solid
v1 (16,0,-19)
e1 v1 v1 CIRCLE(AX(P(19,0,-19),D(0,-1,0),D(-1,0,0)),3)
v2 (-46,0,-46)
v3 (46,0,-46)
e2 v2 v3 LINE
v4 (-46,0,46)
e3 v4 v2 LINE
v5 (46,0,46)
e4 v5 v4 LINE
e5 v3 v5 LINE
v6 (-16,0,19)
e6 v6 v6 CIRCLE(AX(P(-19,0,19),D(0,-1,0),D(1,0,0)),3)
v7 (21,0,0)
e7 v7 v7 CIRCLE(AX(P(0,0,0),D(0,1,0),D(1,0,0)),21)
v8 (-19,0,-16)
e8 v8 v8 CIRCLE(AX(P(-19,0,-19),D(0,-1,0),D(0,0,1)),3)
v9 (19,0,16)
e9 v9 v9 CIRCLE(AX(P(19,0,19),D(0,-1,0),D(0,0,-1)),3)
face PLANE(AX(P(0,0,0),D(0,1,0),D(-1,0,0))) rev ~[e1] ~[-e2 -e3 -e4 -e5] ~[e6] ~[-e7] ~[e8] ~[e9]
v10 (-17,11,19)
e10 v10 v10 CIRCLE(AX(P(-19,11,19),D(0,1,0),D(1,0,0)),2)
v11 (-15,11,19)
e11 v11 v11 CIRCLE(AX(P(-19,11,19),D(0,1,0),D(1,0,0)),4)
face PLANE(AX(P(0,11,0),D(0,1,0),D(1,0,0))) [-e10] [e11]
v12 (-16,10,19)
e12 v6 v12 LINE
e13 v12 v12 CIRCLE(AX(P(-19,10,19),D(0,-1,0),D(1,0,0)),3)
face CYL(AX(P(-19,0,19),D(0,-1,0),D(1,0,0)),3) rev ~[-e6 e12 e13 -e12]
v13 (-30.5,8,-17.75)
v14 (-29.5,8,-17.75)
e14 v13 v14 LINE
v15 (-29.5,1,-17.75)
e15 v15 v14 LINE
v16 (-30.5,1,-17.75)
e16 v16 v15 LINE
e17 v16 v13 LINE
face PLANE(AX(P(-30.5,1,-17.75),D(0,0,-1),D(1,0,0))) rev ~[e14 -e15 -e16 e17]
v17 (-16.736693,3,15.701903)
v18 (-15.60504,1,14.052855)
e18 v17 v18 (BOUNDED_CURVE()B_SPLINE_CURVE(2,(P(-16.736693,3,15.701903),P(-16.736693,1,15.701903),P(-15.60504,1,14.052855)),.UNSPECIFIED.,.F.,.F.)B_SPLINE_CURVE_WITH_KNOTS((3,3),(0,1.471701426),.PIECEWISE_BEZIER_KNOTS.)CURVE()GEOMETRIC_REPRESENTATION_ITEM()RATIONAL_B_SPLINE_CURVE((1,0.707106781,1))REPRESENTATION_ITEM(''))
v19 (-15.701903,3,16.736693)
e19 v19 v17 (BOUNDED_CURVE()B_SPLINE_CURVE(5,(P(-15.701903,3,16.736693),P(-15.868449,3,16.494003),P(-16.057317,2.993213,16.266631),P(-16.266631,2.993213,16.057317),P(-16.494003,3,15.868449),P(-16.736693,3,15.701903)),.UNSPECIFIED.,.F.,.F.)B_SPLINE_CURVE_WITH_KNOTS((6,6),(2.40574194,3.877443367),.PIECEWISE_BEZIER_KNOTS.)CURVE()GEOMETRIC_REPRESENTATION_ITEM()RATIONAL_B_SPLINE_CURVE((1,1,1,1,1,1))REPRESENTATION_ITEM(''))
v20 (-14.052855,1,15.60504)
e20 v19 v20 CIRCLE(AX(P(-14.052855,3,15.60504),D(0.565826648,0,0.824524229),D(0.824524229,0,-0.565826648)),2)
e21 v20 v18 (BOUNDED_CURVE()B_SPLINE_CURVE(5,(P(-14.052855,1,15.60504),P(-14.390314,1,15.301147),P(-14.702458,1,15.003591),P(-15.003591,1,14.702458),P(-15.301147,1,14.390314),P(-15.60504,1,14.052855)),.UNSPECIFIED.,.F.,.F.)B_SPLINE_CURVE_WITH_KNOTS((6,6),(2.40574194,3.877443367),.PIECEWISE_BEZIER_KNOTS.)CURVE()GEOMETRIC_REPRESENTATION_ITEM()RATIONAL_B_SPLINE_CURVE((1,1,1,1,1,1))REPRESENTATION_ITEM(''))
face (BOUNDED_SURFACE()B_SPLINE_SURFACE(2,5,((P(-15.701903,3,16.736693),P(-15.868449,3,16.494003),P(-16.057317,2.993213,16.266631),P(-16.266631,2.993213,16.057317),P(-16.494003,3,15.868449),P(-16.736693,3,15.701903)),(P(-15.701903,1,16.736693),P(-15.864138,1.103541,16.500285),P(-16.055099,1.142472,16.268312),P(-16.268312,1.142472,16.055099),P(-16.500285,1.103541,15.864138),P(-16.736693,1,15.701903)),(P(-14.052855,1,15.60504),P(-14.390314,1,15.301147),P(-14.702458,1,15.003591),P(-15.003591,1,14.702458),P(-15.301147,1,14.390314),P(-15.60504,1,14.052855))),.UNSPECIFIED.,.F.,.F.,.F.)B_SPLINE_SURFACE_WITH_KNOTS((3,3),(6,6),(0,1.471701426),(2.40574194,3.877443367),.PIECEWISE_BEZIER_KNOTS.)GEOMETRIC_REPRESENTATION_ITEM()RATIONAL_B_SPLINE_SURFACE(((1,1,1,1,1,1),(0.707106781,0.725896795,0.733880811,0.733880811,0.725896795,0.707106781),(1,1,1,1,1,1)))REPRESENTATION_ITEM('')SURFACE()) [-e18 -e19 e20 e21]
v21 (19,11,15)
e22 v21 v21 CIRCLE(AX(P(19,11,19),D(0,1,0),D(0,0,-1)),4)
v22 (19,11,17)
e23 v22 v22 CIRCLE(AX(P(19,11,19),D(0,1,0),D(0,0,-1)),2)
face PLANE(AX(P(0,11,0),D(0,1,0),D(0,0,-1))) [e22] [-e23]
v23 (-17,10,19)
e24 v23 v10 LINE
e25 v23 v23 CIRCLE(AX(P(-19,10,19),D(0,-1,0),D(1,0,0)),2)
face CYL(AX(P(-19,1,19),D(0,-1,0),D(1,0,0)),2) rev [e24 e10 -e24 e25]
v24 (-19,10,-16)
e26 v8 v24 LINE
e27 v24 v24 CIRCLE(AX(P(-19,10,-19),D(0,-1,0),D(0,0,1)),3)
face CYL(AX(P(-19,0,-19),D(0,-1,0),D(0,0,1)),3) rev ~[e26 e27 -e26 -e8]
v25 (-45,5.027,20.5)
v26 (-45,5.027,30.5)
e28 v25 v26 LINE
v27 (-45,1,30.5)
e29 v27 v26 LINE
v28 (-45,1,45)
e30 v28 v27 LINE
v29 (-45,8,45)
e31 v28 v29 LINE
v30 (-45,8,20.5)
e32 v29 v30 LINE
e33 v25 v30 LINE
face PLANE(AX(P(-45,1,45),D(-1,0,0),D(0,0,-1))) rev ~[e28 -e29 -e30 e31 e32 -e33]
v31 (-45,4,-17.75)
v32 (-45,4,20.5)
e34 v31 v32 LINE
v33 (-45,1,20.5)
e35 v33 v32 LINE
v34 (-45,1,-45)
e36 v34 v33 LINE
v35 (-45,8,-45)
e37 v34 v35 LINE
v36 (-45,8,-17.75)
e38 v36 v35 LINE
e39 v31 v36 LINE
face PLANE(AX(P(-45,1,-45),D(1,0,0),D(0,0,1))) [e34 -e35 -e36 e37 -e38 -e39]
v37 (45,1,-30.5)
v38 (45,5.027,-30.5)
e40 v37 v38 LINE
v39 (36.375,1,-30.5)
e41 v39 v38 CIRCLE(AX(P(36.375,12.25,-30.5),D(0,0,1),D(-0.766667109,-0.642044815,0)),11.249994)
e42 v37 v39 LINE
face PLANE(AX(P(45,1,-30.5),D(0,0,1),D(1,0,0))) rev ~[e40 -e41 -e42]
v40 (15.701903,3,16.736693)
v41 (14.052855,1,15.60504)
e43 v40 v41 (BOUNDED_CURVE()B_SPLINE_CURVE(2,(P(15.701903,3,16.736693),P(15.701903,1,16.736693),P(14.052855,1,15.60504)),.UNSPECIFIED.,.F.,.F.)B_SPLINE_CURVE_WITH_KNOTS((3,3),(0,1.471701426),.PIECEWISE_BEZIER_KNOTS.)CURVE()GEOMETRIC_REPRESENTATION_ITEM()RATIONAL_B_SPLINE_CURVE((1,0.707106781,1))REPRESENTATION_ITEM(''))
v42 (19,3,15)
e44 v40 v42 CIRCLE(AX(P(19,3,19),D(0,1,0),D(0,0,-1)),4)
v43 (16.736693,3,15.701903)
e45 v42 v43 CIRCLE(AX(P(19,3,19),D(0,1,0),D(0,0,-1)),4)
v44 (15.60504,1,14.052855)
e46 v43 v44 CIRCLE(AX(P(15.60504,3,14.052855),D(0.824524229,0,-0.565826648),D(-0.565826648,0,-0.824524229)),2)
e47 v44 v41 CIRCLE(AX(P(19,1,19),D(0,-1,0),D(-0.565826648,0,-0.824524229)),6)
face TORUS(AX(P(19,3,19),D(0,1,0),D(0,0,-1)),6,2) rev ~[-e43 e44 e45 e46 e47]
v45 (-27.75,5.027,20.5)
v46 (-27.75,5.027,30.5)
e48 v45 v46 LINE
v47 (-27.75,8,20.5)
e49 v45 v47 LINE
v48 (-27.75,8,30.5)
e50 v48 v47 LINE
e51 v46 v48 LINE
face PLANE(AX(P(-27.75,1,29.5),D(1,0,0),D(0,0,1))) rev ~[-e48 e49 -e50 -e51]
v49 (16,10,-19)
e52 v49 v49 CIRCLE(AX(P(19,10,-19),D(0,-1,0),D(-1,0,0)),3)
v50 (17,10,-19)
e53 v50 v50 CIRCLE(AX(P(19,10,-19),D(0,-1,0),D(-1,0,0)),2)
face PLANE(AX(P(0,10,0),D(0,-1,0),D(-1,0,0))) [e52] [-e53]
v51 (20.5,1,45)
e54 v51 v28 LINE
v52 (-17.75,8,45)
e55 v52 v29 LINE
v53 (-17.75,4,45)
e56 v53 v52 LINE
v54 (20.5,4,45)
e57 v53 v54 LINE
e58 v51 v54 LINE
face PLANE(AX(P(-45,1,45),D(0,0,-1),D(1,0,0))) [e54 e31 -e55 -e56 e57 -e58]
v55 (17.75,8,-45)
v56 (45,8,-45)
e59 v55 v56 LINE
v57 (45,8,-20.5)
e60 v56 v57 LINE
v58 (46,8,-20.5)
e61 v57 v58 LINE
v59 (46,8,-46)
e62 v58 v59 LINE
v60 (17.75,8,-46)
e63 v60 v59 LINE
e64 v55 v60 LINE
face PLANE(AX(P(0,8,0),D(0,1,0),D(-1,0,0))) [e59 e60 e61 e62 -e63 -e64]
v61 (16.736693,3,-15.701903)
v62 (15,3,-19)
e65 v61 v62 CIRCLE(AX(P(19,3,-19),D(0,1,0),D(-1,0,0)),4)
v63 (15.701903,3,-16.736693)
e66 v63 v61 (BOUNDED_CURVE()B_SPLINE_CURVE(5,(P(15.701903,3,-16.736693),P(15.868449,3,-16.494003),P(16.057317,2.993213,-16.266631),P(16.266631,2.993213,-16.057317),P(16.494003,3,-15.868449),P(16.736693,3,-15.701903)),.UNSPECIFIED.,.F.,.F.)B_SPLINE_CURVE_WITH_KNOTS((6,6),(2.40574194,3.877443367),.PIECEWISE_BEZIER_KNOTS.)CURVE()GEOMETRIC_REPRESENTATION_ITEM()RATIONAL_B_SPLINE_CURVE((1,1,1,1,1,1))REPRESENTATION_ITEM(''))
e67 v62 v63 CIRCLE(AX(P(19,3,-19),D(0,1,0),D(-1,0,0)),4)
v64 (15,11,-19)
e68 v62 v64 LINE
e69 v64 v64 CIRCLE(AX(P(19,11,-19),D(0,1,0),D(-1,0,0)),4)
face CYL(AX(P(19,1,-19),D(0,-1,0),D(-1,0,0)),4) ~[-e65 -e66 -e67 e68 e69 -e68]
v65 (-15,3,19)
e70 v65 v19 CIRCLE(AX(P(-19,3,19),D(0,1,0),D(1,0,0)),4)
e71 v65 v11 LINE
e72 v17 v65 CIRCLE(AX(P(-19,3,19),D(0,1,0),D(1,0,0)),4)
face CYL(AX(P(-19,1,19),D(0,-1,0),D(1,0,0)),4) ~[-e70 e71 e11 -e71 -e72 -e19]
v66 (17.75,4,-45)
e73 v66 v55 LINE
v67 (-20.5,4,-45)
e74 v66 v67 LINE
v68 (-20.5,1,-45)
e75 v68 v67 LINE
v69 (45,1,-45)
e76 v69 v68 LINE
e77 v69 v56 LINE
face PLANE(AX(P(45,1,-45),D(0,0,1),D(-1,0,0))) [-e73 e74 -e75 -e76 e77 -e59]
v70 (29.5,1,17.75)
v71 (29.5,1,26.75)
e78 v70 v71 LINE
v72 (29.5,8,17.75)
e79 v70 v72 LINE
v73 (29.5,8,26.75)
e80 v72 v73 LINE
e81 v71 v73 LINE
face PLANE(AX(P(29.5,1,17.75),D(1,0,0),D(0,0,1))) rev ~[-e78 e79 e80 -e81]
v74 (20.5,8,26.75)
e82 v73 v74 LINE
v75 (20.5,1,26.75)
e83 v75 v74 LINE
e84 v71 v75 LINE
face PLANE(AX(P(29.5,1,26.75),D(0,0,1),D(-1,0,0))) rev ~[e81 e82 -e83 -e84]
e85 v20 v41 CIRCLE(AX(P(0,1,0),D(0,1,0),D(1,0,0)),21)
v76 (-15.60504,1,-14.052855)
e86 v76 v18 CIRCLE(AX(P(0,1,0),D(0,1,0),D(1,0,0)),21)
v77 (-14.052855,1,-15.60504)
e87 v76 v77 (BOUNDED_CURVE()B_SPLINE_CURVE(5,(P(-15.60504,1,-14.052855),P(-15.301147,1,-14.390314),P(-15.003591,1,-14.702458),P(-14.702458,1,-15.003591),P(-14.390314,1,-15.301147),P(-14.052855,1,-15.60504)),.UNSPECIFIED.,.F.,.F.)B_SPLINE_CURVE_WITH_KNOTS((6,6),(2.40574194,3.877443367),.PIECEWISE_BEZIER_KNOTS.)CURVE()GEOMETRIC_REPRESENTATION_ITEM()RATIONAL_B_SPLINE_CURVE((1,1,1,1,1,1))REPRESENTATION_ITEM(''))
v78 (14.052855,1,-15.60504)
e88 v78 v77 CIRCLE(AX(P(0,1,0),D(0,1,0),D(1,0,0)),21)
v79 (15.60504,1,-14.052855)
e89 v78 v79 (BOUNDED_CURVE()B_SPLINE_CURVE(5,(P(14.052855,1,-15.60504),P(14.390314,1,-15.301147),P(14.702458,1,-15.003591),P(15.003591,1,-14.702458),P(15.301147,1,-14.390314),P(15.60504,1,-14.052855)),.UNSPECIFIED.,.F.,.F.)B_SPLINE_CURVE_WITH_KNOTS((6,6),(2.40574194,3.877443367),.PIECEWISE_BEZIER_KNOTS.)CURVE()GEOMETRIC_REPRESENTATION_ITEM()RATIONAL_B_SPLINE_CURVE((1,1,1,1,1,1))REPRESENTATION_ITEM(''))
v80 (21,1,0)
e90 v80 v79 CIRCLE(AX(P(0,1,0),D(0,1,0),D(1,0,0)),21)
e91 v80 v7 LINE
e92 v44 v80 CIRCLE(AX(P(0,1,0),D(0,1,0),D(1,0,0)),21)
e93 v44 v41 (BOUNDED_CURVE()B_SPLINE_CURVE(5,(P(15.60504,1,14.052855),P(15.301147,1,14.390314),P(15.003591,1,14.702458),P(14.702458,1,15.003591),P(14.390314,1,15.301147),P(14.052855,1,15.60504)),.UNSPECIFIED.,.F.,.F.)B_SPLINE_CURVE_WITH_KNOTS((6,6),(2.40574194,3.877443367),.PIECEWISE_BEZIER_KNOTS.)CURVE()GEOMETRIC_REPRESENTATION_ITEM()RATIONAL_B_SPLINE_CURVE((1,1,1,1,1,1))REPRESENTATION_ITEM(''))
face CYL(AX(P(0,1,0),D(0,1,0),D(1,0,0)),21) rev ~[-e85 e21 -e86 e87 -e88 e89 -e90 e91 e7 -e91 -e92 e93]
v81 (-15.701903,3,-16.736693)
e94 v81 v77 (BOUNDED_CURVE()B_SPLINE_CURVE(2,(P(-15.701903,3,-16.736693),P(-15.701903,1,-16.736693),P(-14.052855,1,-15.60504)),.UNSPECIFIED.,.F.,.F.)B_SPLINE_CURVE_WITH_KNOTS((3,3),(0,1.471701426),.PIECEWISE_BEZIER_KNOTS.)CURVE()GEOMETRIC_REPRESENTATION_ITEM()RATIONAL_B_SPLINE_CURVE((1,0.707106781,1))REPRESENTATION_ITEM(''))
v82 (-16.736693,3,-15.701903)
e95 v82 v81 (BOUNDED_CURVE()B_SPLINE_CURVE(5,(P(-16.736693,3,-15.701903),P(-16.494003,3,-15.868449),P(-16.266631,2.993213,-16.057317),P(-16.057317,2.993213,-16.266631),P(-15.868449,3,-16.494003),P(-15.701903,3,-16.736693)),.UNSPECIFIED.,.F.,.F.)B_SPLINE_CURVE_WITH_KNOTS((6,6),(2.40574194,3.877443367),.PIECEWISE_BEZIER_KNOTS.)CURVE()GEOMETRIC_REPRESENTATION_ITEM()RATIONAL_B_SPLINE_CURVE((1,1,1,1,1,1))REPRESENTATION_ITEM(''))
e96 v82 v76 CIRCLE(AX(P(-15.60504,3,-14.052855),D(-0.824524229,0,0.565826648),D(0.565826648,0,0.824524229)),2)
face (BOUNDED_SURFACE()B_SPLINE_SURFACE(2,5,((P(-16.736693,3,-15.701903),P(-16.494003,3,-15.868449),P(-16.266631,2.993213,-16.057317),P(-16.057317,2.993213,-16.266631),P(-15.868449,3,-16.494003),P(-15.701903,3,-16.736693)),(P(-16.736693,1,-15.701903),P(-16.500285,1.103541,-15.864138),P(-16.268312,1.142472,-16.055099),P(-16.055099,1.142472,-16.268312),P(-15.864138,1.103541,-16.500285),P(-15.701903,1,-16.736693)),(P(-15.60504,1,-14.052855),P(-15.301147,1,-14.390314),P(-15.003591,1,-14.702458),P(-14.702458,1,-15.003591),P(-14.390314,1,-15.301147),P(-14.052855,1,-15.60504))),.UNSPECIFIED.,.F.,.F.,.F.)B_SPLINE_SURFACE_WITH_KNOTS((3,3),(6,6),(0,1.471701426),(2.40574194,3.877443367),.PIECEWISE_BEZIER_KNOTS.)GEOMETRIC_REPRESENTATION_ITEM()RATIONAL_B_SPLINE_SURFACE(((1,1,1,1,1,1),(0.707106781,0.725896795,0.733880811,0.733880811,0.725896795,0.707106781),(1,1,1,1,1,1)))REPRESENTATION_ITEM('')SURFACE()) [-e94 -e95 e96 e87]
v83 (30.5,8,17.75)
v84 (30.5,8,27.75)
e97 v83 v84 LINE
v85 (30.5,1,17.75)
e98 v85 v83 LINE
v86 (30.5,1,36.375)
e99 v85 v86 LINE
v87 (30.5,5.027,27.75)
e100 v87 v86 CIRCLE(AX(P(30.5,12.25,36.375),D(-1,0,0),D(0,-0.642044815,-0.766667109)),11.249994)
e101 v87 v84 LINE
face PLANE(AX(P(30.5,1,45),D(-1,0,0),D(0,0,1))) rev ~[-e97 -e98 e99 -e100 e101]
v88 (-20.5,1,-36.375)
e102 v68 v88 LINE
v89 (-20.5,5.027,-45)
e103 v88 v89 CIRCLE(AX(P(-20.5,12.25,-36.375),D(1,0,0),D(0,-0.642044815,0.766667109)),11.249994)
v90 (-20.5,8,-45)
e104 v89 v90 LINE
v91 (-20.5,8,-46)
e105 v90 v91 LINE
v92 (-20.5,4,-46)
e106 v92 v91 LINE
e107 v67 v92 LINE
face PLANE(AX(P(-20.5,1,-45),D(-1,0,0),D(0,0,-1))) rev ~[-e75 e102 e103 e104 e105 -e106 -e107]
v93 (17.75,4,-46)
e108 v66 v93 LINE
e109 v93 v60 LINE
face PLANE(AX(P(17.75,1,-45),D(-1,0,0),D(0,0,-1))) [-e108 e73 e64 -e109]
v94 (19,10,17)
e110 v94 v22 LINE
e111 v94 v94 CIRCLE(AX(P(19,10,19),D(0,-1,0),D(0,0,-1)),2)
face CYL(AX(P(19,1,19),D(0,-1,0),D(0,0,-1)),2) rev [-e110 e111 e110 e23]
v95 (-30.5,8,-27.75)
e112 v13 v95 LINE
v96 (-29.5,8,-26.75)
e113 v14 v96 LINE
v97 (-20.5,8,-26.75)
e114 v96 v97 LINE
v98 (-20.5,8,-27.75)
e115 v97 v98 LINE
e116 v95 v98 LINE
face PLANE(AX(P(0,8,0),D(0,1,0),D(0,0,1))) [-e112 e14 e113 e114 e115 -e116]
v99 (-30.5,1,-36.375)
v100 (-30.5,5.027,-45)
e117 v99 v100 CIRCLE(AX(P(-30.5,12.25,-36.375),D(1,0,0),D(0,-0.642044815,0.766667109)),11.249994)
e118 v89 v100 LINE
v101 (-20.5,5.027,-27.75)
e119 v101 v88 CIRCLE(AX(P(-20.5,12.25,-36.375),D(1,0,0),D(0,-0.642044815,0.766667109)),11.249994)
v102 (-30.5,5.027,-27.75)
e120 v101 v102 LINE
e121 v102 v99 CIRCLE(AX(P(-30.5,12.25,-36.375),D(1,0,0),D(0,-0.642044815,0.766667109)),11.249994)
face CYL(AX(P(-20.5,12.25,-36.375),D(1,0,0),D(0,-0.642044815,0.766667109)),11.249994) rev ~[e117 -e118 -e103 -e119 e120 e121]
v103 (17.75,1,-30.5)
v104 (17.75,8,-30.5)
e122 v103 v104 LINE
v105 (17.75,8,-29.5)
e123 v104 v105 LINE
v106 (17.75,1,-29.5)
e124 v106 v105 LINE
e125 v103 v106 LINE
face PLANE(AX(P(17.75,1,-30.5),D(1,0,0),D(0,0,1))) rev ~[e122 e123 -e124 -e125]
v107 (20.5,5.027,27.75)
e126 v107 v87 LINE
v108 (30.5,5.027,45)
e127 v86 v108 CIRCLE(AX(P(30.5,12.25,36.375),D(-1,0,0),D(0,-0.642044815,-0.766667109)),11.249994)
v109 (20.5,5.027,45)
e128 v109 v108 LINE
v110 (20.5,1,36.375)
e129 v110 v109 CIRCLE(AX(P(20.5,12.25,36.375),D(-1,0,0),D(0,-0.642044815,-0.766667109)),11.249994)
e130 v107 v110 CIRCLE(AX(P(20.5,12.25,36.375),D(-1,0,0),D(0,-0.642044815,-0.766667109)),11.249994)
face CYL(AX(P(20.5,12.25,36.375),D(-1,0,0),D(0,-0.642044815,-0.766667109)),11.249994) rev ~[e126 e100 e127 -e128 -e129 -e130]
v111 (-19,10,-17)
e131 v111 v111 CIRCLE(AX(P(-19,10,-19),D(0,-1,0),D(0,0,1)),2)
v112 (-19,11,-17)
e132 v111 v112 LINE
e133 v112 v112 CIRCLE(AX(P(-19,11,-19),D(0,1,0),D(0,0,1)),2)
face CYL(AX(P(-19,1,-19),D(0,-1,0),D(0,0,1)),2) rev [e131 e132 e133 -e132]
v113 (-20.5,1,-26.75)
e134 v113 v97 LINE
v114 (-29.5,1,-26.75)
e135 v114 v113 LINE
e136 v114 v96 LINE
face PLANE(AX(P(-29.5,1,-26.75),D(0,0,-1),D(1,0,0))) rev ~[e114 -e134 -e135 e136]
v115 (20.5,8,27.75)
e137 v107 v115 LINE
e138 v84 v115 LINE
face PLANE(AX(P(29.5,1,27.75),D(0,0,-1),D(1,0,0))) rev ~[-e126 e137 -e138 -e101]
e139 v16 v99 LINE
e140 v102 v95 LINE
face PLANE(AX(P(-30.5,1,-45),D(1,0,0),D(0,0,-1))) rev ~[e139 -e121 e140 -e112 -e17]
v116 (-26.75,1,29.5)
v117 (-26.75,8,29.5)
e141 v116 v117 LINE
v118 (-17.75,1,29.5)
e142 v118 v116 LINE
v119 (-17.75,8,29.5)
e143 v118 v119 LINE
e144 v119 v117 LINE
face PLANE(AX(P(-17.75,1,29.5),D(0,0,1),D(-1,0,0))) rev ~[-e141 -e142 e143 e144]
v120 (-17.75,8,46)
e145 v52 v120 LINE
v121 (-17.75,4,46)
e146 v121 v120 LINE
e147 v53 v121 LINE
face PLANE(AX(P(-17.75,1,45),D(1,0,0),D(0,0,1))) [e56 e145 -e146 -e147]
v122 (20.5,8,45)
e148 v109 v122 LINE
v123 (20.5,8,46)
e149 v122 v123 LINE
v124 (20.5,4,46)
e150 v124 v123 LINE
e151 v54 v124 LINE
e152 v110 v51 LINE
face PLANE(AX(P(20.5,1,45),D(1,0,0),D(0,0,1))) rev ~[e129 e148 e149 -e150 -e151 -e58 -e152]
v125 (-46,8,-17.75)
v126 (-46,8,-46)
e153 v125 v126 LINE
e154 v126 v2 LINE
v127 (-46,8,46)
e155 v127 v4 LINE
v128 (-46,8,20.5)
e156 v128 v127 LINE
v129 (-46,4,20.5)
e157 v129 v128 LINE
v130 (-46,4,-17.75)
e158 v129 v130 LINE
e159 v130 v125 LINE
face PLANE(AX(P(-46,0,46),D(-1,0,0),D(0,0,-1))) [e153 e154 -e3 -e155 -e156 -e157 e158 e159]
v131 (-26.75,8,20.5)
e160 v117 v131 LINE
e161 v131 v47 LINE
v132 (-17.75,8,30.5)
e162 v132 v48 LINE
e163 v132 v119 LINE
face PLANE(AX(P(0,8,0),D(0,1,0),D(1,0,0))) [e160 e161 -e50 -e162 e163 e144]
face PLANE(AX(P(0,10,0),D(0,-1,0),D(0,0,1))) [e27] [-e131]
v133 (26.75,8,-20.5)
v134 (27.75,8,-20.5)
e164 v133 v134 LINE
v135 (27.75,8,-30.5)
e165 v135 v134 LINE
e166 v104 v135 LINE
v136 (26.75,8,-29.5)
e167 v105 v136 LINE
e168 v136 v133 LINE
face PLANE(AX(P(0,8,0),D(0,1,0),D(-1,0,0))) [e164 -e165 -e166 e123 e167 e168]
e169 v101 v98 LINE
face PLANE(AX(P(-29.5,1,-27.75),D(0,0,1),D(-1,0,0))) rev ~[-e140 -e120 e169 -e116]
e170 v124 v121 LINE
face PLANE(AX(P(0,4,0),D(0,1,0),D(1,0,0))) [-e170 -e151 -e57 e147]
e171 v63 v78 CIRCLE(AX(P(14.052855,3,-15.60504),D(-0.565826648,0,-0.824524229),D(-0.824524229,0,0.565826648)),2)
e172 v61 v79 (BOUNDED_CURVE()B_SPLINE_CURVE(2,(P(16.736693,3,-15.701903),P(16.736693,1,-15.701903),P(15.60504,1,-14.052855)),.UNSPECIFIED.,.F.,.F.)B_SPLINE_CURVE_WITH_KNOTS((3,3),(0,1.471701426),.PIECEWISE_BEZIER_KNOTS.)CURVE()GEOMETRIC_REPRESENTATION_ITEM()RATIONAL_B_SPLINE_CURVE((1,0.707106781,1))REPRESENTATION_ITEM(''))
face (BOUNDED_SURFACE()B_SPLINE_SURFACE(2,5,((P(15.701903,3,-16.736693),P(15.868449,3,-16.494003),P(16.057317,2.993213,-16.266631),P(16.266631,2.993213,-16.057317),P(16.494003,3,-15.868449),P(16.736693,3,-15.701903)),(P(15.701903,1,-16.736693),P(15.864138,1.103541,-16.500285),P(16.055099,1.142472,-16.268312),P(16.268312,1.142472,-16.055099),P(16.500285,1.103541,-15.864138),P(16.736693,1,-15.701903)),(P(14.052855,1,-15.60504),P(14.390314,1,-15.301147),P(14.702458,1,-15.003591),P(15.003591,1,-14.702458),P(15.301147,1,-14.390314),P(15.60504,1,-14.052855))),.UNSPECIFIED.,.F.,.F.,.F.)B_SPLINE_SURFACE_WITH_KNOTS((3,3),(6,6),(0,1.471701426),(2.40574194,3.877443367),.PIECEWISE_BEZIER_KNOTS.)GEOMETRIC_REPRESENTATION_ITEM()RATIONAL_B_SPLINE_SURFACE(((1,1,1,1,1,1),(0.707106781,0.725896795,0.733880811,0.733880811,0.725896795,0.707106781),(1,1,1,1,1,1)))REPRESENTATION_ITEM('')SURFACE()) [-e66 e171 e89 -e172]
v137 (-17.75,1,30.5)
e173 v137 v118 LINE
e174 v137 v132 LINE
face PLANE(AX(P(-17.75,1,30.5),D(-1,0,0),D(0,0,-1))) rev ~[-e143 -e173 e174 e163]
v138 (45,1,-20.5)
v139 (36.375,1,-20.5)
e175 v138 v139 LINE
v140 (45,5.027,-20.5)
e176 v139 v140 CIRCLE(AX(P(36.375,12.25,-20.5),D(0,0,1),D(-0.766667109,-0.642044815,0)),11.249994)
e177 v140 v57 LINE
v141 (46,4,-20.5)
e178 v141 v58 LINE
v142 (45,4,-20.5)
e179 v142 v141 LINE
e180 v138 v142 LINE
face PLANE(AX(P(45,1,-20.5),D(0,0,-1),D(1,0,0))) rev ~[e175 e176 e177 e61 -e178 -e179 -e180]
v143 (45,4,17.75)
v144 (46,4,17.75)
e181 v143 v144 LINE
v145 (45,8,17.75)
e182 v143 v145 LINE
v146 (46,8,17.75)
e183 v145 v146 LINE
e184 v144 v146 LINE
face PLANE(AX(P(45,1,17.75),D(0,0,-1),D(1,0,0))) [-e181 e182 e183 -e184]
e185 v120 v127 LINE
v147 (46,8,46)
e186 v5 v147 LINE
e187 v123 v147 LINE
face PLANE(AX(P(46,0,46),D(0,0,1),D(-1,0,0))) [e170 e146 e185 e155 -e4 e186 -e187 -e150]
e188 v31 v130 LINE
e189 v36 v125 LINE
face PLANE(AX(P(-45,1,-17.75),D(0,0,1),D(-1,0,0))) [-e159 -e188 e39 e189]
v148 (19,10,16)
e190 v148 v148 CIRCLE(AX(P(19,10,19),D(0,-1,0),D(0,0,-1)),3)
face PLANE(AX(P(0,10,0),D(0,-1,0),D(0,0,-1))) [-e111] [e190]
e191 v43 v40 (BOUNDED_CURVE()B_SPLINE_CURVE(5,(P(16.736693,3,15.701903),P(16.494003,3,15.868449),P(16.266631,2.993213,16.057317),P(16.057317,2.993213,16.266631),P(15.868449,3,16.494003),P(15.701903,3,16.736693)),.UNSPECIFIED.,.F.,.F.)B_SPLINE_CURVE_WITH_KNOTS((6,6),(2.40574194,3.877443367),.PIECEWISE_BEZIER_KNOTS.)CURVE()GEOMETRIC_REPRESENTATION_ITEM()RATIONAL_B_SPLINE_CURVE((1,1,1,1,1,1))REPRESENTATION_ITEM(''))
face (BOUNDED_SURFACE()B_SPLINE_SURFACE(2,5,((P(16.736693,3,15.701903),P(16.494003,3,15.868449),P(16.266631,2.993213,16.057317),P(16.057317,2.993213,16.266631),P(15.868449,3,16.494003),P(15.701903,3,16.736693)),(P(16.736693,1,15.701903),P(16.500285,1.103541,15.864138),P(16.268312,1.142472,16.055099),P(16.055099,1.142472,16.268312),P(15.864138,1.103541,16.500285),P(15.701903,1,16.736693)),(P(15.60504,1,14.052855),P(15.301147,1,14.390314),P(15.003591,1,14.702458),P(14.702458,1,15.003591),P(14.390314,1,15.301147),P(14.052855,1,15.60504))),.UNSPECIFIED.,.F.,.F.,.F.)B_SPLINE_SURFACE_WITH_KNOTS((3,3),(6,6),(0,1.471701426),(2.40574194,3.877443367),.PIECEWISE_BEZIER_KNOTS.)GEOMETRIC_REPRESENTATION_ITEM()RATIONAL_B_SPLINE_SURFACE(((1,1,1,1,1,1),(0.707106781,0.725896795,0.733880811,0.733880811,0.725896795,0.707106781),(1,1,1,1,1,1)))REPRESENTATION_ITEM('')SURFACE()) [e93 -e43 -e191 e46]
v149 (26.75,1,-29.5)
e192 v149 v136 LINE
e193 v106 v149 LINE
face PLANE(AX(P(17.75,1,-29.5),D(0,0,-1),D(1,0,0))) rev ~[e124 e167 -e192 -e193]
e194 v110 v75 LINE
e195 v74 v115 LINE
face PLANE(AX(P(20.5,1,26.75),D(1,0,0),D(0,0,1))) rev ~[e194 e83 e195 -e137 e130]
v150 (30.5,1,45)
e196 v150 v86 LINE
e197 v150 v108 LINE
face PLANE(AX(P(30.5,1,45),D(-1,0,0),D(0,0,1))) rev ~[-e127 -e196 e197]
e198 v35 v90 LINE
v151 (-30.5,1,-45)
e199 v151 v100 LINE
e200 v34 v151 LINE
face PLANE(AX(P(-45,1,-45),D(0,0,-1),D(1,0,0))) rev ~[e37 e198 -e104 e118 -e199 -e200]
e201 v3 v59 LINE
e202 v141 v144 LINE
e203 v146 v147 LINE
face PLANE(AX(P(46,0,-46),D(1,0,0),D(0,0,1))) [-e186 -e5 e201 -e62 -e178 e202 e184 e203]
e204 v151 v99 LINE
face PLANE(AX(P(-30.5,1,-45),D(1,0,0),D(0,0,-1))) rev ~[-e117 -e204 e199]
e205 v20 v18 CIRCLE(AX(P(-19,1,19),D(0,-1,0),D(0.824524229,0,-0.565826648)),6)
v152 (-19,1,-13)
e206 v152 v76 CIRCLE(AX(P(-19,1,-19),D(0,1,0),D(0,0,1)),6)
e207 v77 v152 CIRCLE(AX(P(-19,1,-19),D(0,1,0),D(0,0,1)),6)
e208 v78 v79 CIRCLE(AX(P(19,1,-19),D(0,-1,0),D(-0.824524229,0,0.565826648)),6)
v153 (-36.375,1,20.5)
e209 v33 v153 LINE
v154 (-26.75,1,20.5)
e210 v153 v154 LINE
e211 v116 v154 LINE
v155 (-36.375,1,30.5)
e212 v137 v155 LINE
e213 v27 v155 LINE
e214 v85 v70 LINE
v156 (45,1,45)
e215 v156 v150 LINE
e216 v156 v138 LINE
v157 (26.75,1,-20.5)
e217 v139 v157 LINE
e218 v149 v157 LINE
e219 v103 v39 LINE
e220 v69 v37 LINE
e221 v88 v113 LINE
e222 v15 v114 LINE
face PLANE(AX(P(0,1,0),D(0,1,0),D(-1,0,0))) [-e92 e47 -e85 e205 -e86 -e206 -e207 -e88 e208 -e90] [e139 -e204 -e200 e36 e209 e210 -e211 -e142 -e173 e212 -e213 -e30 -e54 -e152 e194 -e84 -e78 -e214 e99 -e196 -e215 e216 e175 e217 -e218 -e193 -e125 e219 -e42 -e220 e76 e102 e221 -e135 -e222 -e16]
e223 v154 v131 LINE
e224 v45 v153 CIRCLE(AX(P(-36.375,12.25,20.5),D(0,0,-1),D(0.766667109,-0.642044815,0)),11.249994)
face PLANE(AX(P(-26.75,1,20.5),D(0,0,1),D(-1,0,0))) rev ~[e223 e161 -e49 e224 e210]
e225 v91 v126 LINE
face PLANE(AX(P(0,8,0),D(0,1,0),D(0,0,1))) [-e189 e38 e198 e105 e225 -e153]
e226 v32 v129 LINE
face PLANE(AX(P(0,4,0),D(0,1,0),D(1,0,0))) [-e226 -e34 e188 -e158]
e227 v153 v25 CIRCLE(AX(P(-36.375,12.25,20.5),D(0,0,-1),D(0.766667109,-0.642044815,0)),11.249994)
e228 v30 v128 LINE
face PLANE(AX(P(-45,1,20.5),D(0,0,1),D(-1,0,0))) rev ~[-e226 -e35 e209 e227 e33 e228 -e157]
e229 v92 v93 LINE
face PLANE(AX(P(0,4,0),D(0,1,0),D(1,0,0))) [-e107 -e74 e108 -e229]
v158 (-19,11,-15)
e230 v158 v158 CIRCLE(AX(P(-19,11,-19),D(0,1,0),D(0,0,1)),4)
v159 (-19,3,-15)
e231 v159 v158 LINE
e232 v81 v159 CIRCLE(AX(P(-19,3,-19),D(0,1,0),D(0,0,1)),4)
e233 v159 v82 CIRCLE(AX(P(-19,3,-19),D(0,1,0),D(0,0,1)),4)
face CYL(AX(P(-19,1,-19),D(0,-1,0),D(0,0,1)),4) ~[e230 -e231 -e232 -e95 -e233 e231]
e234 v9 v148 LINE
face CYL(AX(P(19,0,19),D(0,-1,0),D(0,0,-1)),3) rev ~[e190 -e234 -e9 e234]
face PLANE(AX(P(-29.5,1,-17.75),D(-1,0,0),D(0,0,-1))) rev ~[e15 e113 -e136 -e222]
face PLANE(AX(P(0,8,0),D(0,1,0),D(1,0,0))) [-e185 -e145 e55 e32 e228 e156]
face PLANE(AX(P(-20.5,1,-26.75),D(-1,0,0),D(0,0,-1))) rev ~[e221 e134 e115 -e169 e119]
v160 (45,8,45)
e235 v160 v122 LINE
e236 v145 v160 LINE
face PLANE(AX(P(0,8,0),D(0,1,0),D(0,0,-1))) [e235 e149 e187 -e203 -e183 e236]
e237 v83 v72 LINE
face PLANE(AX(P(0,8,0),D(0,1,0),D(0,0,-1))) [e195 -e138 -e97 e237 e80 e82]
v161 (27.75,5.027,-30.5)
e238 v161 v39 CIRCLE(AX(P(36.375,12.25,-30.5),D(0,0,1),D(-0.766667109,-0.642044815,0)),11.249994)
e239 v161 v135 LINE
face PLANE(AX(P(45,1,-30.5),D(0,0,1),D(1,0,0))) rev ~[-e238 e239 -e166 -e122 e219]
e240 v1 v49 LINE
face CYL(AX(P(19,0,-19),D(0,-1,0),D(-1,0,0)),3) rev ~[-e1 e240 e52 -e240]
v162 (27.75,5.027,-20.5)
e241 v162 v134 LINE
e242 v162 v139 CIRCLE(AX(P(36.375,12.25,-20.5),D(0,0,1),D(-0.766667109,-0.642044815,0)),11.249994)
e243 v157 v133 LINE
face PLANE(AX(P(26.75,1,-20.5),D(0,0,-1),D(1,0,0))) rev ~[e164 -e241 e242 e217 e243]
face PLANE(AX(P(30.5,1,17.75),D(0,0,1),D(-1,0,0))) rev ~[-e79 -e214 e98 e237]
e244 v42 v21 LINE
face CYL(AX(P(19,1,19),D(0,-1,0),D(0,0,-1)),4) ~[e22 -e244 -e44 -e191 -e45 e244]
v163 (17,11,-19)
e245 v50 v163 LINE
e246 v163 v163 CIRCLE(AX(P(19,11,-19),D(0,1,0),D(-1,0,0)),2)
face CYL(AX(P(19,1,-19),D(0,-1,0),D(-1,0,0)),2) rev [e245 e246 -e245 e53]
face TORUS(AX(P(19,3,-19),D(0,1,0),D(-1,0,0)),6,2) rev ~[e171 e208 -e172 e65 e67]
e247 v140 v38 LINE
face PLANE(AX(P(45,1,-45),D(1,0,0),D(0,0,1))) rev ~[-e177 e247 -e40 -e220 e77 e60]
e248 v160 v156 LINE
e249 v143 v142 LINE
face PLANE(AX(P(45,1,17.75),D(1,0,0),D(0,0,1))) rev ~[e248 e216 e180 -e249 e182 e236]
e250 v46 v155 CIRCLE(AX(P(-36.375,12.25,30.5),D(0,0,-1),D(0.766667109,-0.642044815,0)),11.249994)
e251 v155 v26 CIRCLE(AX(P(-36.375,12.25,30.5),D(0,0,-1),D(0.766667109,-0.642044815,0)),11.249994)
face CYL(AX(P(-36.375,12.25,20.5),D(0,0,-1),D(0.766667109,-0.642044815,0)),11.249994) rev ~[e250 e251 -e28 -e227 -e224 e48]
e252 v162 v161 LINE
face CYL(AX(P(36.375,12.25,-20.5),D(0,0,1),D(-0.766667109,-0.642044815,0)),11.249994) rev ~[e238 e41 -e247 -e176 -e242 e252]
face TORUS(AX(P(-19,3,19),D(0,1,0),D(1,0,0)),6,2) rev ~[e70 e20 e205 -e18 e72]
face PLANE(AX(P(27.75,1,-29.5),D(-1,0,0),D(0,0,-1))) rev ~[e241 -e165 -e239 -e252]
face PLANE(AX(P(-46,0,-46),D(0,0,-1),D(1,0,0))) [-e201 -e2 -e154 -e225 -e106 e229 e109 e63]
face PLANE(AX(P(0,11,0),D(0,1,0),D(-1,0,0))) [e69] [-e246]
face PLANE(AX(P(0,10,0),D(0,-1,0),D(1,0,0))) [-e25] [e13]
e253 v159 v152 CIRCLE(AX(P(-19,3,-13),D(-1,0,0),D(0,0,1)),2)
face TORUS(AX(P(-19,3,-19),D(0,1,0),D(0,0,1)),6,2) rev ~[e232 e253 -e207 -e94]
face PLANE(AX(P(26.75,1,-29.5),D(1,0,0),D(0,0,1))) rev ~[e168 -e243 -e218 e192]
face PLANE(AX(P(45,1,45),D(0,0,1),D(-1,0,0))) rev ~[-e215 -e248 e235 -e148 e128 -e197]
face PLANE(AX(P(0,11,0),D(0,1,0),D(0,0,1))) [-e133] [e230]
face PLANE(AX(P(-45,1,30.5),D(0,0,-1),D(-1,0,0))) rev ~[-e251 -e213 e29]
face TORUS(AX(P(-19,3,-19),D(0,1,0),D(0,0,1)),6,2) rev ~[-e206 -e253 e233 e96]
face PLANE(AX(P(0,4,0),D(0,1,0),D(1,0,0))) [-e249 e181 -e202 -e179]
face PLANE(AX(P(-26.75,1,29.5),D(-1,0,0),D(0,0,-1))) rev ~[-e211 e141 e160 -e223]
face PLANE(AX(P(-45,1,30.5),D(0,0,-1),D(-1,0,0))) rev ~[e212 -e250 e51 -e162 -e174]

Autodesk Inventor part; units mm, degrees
ref_plane "YZ Plane" through (0, 0, 0) normal (1, 0, 0) x (0, 1, 0)
ref_plane "XZ Plane" through (0, 0, 0) normal (0, 1, 0) x (-1, 0, 0)
ref_plane "XY Plane" through (0, 0, 0) normal (0, 0, 1) x (1, 0, 0)
sketch "Sketch1" plane through (0, 0, 0) normal (0, 1, 0) x (-1, 0, 0)
  line L0 (45, 45) -> (-45, 45)
  line L1 (-45, 45) -> (-45, -45)
  line L2 (-45, -45) -> (45, -45)
  line L3 (45, -45) -> (45, 45)
  line L4 (45, 45) -> (-45, -45) construction
  line L5 (-45, 45) -> (45, -45) construction
  line L6 (-46, 46) -> (46, 46)
  line L7 (46, 46) -> (46, -46)
  line L8 (46, -46) -> (-46, -46)
  line L9 (-46, -46) -> (-46, 46)
  line L10 (-46, 46) -> (46, -46) construction
  line L11 (46, 46) -> (-46, -46) construction
  point P0 (0, 0)
  dimension "d0" = 90
  dimension "d1" = 90
  dimension "d2" = 92
  dimension "d3" = 92
extrude "Extrusion1" add sketch "Sketch1" along normal blind 1 contours L3 L2 L1 L0 | L6 L7 L8 L9
sketch "Sketch2" plane through (0, 1, 0) normal (0, 1, 0) x (1, 0, 0)
  line L0 (-46, -46) -> (46, -46) projected
  line L1 (46, -46) -> (46, 46) projected
  line L2 (46, 46) -> (-46, 46) projected
  line L3 (-46, 46) -> (-46, -46) projected
  line L4 (45, 45) -> (-45, 45)
  line L5 (-45, -20.5) -> (-45, -45)
  line L6 (-45, -45) -> (-17.75, -45)
  line L7 (45, -45) -> (45, 45)
  line L8 (45, 45) -> (-45, -45) construction
  line L9 (-45, 45) -> (45, -45) construction
  line L10 (-27.75, -30.5) -> (-17.75, -30.5)
  line L11 (-17.75, -30.5) -> (-17.75, -29.5)
  line L12 (-17.75, -29.5) -> (-27.75, -29.5)
  line L13 (-27.75, -29.5) -> (-27.75, -30.5)
  line L14 (-27.75, -30.5) -> (-26.75, -30.5)
  line L15 (-26.75, -30.5) -> (-26.75, -20.5)
  line L16 (-26.75, -20.5) -> (-27.75, -20.5)
  line L17 (-27.75, -20.5) -> (-27.75, -30.5)
  line L18 (-17.75, -45) -> (-17.75, -46)
  line L19 (-46, -46) -> (46, -46) projected
  line L20 (-45, -20.5) -> (-46, -20.5)
  point P0 (0, 0)
  dimension "d6" = 90
  dimension "d7" = 90
  dimension "d8" = 1
  dimension "d9" = 1
  dimension "d10" = 10
  dimension "d11" = 10
  dimension "d12" = 14.5
  dimension "d13" = 17.25
sketch "Sketch3" plane through (0, 1, 0) normal (0, 1, 0) x (1, 0, 0)
  line L0 (-27.75, -30.5) -> (-17.75, -30.5) projected
  line L1 (-27.75, -20.5) -> (-27.75, -30.5) projected
  line L2 (-26.75, -30.5) -> (-26.75, -20.5) projected
  line L3 (-17.75, -29.5) -> (-27.75, -29.5) projected
  line L4 (-26.75, -20.5) -> (-27.75, -20.5) projected
  line L5 (-17.75, -45) -> (-17.75, -46) projected
  line L6 (-45, -20.5) -> (-46, -20.5) projected
  line L7 (-46, 46) -> (-46, -46) projected
  line L8 (-45, -20.5) -> (-46, -20.5)
  line L9 (-46, -20.5) -> (-46, -46)
  line L10 (-46, -46) -> (-45, -46)
  line L11 (-45, -46) -> (-45, -20.5)
  line L12 (-46, -46) -> (46, -46) projected
  line L13 (-46, -46) -> (-17.75, -46)
  line L14 (-17.75, -46) -> (-17.75, -45)
  line L15 (-17.75, -45) -> (-46, -45)
  line L16 (-46, -45) -> (-46, -46)
  line L17 (-27.75, -30.5) -> (-17.75, -30.5)
  line L18 (-17.75, -30.5) -> (-17.75, -29.5)
  line L19 (-17.75, -29.5) -> (-27.75, -29.5)
  line L20 (-27.75, -29.5) -> (-27.75, -30.5)
  point P0 (0, 0)
extrude "Extrusion2" add sketch "Sketch3" along normal blind 7
sketch "Sketch4" plane through (-45, 1, 20.5) normal (0, 0, -1) x (-1, 0, 0)
  line L0 (-17.25, 0) -> (-18.25, 0) projected
  line L1 (-17.25, 0) -> (-17.25, 7) projected
  line L2 (-18.25, 7) -> (-17.25, 7) projected
  line L3 (-18.25, 0) -> (-18.25, 7) projected
  line L4 (1, 0) -> (0, 0) projected
  line L5 (1, 0) -> (1, 7) projected
  line L6 (0, 7) -> (1, 7) projected
  line L7 (0, 0) -> (0, 7) projected
  line L8 (0, 0) -> (-27.25, 0) projected
  arc A0 (-17.25, 4.027) -> (0, 4.027) centre (-8.625, 11.25) ccw
  line L9 (-91, 0) -> (1, 0) projected
  line L10 (-17.25, 0) -> (-17.25, 7) projected
  line L11 (-8.625, 0) -> (-17.25, 0)
  line L12 (-17.25, 0) -> (-17.25, 4.027)
  line L13 (0, 0) -> (0, 7) projected
  line L14 (-8.625, 0) -> (0, 0)
  line L15 (0, 0) -> (0, 4.027)
  point P0 (-45, -1)
  dimension "d16" = 22.5
  dimension "d17" = 8.625
extrude "Extrusion3" add sketch "Sketch4" against normal blind 10 contours A0 L7 L8 | L1 A0 L8
sketch "Sketch5" plane through (0, 1, 0) normal (0, 1, 0) x (1, 0, 0)
  line L0 (-17.75, -46) -> (46, -46) projected
  line L1 (-46, -20.5) -> (-46, -46) projected
  point P0 (0, 0)
  point P1 (-19, -19)
  dimension "d23" = 27
  dimension "d24" = 27
hole "Hole1" at (-19, 1, 19) direction (0, -1, 0) diameter 4 end through all
pattern_circular "Circular Pattern2" count 4 over 360 about axis through (0, -10, 0) along (0, 1, 0) of "Extrusion2", "Extrusion3", "Hole1"
sketch "Sketch6" plane through (0, 1, 0) normal (0, 1, 0) x (1, 0, 0)
  circle A0 centre (0, 0) radius 21
  dimension "d35" = 42
extrude "Extrusion4" cut sketch "Sketch6" against normal blind 10
sketch "Sketch7" plane through (0, 1, 0) normal (0, 1, 0) x (1, 0, 0)
  line L0 (45, 45) -> (-45, 45)
  line L1 (-45, 45) -> (-45, -45)
  line L2 (-45, -45) -> (45, -45)
  line L3 (45, -45) -> (45, 45)
  line L4 (45, 45) -> (-45, -45) construction
  line L5 (-45, 45) -> (45, -45) construction
  line L6 (46, -46) -> (-46, -46) projected
  line L7 (-46, 46) -> (46, 46)
  line L8 (46, 46) -> (46, -46)
  line L9 (46, -46) -> (-46, -46)
  line L10 (-46, -46) -> (-46, 46)
  line L11 (-46, 46) -> (46, -46) construction
  line L12 (46, 46) -> (-46, -46) construction
  point P0 (0, 0)
  dimension "d38" = 90
  dimension "d39" = 90
extrude "Extrusion5" add sketch "Sketch7" along normal blind 3
sketch "Sketch8" plane through (0, 1, 0) normal (0, 1, 0) x (1, 0, 0)
  circle A0 centre (-19, -19) radius 2 projected
  circle A1 centre (19, -19) radius 2 projected
  circle A2 centre (19, 19) radius 2 projected
  circle A3 centre (-19, 19) radius 2 projected
  circle A4 centre (0, 0) radius 21 projected
  line L0 (-45, -45) -> (20.5, -45) projected
  line L1 (20.5, -45) -> (20.5, -36.375) projected
  line L2 (20.5, -36.375) -> (20.5, -26.75) projected
  line L3 (20.5, -26.75) -> (29.5, -26.75) projected
  line L4 (29.5, -26.75) -> (29.5, -17.75) projected
  line L5 (29.5, -17.75) -> (30.5, -17.75) projected
  line L6 (30.5, -17.75) -> (30.5, -36.375) projected
  line L7 (30.5, -36.375) -> (30.5, -45) projected
  line L8 (30.5, -45) -> (45, -45) projected
  line L9 (45, -45) -> (45, 20.5) projected
  line L10 (45, 20.5) -> (36.375, 20.5) projected
  line L11 (36.375, 20.5) -> (26.75, 20.5) projected
  line L12 (26.75, 20.5) -> (26.75, 29.5) projected
  line L13 (26.75, 29.5) -> (17.75, 29.5) projected
  line L14 (17.75, 29.5) -> (17.75, 30.5) projected
  line L15 (17.75, 30.5) -> (36.375, 30.5) projected
  line L16 (36.375, 30.5) -> (45, 30.5) projected
  line L17 (45, 30.5) -> (45, 45) projected
  line L18 (45, 45) -> (-20.5, 45) projected
  line L19 (-20.5, 45) -> (-20.5, 36.375) projected
  line L20 (-20.5, 36.375) -> (-20.5, 26.75) projected
  line L21 (-20.5, 26.75) -> (-29.5, 26.75) projected
  line L22 (-29.5, 26.75) -> (-29.5, 17.75) projected
  line L23 (-29.5, 17.75) -> (-30.5, 17.75) projected
  line L24 (-30.5, 17.75) -> (-30.5, 36.375) projected
  line L25 (-30.5, 36.375) -> (-30.5, 45) projected
  line L26 (-30.5, 45) -> (-45, 45) projected
  line L27 (-45, 45) -> (-45, -20.5) projected
  line L28 (-45, -20.5) -> (-36.375, -20.5) projected
  line L29 (-36.375, -20.5) -> (-26.75, -20.5) projected
  line L30 (-26.75, -20.5) -> (-26.75, -29.5) projected
  line L31 (-26.75, -29.5) -> (-17.75, -29.5) projected
  line L32 (-17.75, -29.5) -> (-17.75, -30.5) projected
  line L33 (-17.75, -30.5) -> (-36.375, -30.5) projected
  line L34 (-36.375, -30.5) -> (-45, -30.5) projected
  line L35 (-45, -30.5) -> (-45, -45) projected
  circle A5 centre (-19, -19) radius 2 projected
  circle A6 centre (-19, -19) radius 4
  dimension "d42" = 8
extrude "Extrusion6" add sketch "Sketch8" along normal blind 10 contours A6
sketch "Sketch9" plane through (0, 0, 0) normal (0, -1, 0) x (1, 0, 0)
  circle A0 centre (0, 0) radius 21 projected
  circle A1 centre (-19, -19) radius 2 projected
  circle A2 centre (19, -19) radius 2 projected
  circle A3 centre (19, 19) radius 2 projected
  circle A4 centre (-19, 19) radius 2 projected
  line L0 (46, 46) -> (-46, 46) projected
  line L1 (-46, 46) -> (-46, -46) projected
  line L2 (-46, -46) -> (46, -46) projected
  line L3 (46, -46) -> (46, 46) projected
  circle A5 centre (-19, 19) radius 3
  dimension "d45" = 6
extrude "Extrusion7" cut sketch "Sketch9" against normal blind 10 contours A5
fillet "Fillet1" radius 2 1 edges at (-23, 1, 19)
pattern_circular "Circular Pattern3" count 4 over 360 about axis through (0, -10, 0) along (0, 1, 0) of "Extrusion6", "Extrusion7", "Fillet1"
properties part number "motor_mount_base2_template"
